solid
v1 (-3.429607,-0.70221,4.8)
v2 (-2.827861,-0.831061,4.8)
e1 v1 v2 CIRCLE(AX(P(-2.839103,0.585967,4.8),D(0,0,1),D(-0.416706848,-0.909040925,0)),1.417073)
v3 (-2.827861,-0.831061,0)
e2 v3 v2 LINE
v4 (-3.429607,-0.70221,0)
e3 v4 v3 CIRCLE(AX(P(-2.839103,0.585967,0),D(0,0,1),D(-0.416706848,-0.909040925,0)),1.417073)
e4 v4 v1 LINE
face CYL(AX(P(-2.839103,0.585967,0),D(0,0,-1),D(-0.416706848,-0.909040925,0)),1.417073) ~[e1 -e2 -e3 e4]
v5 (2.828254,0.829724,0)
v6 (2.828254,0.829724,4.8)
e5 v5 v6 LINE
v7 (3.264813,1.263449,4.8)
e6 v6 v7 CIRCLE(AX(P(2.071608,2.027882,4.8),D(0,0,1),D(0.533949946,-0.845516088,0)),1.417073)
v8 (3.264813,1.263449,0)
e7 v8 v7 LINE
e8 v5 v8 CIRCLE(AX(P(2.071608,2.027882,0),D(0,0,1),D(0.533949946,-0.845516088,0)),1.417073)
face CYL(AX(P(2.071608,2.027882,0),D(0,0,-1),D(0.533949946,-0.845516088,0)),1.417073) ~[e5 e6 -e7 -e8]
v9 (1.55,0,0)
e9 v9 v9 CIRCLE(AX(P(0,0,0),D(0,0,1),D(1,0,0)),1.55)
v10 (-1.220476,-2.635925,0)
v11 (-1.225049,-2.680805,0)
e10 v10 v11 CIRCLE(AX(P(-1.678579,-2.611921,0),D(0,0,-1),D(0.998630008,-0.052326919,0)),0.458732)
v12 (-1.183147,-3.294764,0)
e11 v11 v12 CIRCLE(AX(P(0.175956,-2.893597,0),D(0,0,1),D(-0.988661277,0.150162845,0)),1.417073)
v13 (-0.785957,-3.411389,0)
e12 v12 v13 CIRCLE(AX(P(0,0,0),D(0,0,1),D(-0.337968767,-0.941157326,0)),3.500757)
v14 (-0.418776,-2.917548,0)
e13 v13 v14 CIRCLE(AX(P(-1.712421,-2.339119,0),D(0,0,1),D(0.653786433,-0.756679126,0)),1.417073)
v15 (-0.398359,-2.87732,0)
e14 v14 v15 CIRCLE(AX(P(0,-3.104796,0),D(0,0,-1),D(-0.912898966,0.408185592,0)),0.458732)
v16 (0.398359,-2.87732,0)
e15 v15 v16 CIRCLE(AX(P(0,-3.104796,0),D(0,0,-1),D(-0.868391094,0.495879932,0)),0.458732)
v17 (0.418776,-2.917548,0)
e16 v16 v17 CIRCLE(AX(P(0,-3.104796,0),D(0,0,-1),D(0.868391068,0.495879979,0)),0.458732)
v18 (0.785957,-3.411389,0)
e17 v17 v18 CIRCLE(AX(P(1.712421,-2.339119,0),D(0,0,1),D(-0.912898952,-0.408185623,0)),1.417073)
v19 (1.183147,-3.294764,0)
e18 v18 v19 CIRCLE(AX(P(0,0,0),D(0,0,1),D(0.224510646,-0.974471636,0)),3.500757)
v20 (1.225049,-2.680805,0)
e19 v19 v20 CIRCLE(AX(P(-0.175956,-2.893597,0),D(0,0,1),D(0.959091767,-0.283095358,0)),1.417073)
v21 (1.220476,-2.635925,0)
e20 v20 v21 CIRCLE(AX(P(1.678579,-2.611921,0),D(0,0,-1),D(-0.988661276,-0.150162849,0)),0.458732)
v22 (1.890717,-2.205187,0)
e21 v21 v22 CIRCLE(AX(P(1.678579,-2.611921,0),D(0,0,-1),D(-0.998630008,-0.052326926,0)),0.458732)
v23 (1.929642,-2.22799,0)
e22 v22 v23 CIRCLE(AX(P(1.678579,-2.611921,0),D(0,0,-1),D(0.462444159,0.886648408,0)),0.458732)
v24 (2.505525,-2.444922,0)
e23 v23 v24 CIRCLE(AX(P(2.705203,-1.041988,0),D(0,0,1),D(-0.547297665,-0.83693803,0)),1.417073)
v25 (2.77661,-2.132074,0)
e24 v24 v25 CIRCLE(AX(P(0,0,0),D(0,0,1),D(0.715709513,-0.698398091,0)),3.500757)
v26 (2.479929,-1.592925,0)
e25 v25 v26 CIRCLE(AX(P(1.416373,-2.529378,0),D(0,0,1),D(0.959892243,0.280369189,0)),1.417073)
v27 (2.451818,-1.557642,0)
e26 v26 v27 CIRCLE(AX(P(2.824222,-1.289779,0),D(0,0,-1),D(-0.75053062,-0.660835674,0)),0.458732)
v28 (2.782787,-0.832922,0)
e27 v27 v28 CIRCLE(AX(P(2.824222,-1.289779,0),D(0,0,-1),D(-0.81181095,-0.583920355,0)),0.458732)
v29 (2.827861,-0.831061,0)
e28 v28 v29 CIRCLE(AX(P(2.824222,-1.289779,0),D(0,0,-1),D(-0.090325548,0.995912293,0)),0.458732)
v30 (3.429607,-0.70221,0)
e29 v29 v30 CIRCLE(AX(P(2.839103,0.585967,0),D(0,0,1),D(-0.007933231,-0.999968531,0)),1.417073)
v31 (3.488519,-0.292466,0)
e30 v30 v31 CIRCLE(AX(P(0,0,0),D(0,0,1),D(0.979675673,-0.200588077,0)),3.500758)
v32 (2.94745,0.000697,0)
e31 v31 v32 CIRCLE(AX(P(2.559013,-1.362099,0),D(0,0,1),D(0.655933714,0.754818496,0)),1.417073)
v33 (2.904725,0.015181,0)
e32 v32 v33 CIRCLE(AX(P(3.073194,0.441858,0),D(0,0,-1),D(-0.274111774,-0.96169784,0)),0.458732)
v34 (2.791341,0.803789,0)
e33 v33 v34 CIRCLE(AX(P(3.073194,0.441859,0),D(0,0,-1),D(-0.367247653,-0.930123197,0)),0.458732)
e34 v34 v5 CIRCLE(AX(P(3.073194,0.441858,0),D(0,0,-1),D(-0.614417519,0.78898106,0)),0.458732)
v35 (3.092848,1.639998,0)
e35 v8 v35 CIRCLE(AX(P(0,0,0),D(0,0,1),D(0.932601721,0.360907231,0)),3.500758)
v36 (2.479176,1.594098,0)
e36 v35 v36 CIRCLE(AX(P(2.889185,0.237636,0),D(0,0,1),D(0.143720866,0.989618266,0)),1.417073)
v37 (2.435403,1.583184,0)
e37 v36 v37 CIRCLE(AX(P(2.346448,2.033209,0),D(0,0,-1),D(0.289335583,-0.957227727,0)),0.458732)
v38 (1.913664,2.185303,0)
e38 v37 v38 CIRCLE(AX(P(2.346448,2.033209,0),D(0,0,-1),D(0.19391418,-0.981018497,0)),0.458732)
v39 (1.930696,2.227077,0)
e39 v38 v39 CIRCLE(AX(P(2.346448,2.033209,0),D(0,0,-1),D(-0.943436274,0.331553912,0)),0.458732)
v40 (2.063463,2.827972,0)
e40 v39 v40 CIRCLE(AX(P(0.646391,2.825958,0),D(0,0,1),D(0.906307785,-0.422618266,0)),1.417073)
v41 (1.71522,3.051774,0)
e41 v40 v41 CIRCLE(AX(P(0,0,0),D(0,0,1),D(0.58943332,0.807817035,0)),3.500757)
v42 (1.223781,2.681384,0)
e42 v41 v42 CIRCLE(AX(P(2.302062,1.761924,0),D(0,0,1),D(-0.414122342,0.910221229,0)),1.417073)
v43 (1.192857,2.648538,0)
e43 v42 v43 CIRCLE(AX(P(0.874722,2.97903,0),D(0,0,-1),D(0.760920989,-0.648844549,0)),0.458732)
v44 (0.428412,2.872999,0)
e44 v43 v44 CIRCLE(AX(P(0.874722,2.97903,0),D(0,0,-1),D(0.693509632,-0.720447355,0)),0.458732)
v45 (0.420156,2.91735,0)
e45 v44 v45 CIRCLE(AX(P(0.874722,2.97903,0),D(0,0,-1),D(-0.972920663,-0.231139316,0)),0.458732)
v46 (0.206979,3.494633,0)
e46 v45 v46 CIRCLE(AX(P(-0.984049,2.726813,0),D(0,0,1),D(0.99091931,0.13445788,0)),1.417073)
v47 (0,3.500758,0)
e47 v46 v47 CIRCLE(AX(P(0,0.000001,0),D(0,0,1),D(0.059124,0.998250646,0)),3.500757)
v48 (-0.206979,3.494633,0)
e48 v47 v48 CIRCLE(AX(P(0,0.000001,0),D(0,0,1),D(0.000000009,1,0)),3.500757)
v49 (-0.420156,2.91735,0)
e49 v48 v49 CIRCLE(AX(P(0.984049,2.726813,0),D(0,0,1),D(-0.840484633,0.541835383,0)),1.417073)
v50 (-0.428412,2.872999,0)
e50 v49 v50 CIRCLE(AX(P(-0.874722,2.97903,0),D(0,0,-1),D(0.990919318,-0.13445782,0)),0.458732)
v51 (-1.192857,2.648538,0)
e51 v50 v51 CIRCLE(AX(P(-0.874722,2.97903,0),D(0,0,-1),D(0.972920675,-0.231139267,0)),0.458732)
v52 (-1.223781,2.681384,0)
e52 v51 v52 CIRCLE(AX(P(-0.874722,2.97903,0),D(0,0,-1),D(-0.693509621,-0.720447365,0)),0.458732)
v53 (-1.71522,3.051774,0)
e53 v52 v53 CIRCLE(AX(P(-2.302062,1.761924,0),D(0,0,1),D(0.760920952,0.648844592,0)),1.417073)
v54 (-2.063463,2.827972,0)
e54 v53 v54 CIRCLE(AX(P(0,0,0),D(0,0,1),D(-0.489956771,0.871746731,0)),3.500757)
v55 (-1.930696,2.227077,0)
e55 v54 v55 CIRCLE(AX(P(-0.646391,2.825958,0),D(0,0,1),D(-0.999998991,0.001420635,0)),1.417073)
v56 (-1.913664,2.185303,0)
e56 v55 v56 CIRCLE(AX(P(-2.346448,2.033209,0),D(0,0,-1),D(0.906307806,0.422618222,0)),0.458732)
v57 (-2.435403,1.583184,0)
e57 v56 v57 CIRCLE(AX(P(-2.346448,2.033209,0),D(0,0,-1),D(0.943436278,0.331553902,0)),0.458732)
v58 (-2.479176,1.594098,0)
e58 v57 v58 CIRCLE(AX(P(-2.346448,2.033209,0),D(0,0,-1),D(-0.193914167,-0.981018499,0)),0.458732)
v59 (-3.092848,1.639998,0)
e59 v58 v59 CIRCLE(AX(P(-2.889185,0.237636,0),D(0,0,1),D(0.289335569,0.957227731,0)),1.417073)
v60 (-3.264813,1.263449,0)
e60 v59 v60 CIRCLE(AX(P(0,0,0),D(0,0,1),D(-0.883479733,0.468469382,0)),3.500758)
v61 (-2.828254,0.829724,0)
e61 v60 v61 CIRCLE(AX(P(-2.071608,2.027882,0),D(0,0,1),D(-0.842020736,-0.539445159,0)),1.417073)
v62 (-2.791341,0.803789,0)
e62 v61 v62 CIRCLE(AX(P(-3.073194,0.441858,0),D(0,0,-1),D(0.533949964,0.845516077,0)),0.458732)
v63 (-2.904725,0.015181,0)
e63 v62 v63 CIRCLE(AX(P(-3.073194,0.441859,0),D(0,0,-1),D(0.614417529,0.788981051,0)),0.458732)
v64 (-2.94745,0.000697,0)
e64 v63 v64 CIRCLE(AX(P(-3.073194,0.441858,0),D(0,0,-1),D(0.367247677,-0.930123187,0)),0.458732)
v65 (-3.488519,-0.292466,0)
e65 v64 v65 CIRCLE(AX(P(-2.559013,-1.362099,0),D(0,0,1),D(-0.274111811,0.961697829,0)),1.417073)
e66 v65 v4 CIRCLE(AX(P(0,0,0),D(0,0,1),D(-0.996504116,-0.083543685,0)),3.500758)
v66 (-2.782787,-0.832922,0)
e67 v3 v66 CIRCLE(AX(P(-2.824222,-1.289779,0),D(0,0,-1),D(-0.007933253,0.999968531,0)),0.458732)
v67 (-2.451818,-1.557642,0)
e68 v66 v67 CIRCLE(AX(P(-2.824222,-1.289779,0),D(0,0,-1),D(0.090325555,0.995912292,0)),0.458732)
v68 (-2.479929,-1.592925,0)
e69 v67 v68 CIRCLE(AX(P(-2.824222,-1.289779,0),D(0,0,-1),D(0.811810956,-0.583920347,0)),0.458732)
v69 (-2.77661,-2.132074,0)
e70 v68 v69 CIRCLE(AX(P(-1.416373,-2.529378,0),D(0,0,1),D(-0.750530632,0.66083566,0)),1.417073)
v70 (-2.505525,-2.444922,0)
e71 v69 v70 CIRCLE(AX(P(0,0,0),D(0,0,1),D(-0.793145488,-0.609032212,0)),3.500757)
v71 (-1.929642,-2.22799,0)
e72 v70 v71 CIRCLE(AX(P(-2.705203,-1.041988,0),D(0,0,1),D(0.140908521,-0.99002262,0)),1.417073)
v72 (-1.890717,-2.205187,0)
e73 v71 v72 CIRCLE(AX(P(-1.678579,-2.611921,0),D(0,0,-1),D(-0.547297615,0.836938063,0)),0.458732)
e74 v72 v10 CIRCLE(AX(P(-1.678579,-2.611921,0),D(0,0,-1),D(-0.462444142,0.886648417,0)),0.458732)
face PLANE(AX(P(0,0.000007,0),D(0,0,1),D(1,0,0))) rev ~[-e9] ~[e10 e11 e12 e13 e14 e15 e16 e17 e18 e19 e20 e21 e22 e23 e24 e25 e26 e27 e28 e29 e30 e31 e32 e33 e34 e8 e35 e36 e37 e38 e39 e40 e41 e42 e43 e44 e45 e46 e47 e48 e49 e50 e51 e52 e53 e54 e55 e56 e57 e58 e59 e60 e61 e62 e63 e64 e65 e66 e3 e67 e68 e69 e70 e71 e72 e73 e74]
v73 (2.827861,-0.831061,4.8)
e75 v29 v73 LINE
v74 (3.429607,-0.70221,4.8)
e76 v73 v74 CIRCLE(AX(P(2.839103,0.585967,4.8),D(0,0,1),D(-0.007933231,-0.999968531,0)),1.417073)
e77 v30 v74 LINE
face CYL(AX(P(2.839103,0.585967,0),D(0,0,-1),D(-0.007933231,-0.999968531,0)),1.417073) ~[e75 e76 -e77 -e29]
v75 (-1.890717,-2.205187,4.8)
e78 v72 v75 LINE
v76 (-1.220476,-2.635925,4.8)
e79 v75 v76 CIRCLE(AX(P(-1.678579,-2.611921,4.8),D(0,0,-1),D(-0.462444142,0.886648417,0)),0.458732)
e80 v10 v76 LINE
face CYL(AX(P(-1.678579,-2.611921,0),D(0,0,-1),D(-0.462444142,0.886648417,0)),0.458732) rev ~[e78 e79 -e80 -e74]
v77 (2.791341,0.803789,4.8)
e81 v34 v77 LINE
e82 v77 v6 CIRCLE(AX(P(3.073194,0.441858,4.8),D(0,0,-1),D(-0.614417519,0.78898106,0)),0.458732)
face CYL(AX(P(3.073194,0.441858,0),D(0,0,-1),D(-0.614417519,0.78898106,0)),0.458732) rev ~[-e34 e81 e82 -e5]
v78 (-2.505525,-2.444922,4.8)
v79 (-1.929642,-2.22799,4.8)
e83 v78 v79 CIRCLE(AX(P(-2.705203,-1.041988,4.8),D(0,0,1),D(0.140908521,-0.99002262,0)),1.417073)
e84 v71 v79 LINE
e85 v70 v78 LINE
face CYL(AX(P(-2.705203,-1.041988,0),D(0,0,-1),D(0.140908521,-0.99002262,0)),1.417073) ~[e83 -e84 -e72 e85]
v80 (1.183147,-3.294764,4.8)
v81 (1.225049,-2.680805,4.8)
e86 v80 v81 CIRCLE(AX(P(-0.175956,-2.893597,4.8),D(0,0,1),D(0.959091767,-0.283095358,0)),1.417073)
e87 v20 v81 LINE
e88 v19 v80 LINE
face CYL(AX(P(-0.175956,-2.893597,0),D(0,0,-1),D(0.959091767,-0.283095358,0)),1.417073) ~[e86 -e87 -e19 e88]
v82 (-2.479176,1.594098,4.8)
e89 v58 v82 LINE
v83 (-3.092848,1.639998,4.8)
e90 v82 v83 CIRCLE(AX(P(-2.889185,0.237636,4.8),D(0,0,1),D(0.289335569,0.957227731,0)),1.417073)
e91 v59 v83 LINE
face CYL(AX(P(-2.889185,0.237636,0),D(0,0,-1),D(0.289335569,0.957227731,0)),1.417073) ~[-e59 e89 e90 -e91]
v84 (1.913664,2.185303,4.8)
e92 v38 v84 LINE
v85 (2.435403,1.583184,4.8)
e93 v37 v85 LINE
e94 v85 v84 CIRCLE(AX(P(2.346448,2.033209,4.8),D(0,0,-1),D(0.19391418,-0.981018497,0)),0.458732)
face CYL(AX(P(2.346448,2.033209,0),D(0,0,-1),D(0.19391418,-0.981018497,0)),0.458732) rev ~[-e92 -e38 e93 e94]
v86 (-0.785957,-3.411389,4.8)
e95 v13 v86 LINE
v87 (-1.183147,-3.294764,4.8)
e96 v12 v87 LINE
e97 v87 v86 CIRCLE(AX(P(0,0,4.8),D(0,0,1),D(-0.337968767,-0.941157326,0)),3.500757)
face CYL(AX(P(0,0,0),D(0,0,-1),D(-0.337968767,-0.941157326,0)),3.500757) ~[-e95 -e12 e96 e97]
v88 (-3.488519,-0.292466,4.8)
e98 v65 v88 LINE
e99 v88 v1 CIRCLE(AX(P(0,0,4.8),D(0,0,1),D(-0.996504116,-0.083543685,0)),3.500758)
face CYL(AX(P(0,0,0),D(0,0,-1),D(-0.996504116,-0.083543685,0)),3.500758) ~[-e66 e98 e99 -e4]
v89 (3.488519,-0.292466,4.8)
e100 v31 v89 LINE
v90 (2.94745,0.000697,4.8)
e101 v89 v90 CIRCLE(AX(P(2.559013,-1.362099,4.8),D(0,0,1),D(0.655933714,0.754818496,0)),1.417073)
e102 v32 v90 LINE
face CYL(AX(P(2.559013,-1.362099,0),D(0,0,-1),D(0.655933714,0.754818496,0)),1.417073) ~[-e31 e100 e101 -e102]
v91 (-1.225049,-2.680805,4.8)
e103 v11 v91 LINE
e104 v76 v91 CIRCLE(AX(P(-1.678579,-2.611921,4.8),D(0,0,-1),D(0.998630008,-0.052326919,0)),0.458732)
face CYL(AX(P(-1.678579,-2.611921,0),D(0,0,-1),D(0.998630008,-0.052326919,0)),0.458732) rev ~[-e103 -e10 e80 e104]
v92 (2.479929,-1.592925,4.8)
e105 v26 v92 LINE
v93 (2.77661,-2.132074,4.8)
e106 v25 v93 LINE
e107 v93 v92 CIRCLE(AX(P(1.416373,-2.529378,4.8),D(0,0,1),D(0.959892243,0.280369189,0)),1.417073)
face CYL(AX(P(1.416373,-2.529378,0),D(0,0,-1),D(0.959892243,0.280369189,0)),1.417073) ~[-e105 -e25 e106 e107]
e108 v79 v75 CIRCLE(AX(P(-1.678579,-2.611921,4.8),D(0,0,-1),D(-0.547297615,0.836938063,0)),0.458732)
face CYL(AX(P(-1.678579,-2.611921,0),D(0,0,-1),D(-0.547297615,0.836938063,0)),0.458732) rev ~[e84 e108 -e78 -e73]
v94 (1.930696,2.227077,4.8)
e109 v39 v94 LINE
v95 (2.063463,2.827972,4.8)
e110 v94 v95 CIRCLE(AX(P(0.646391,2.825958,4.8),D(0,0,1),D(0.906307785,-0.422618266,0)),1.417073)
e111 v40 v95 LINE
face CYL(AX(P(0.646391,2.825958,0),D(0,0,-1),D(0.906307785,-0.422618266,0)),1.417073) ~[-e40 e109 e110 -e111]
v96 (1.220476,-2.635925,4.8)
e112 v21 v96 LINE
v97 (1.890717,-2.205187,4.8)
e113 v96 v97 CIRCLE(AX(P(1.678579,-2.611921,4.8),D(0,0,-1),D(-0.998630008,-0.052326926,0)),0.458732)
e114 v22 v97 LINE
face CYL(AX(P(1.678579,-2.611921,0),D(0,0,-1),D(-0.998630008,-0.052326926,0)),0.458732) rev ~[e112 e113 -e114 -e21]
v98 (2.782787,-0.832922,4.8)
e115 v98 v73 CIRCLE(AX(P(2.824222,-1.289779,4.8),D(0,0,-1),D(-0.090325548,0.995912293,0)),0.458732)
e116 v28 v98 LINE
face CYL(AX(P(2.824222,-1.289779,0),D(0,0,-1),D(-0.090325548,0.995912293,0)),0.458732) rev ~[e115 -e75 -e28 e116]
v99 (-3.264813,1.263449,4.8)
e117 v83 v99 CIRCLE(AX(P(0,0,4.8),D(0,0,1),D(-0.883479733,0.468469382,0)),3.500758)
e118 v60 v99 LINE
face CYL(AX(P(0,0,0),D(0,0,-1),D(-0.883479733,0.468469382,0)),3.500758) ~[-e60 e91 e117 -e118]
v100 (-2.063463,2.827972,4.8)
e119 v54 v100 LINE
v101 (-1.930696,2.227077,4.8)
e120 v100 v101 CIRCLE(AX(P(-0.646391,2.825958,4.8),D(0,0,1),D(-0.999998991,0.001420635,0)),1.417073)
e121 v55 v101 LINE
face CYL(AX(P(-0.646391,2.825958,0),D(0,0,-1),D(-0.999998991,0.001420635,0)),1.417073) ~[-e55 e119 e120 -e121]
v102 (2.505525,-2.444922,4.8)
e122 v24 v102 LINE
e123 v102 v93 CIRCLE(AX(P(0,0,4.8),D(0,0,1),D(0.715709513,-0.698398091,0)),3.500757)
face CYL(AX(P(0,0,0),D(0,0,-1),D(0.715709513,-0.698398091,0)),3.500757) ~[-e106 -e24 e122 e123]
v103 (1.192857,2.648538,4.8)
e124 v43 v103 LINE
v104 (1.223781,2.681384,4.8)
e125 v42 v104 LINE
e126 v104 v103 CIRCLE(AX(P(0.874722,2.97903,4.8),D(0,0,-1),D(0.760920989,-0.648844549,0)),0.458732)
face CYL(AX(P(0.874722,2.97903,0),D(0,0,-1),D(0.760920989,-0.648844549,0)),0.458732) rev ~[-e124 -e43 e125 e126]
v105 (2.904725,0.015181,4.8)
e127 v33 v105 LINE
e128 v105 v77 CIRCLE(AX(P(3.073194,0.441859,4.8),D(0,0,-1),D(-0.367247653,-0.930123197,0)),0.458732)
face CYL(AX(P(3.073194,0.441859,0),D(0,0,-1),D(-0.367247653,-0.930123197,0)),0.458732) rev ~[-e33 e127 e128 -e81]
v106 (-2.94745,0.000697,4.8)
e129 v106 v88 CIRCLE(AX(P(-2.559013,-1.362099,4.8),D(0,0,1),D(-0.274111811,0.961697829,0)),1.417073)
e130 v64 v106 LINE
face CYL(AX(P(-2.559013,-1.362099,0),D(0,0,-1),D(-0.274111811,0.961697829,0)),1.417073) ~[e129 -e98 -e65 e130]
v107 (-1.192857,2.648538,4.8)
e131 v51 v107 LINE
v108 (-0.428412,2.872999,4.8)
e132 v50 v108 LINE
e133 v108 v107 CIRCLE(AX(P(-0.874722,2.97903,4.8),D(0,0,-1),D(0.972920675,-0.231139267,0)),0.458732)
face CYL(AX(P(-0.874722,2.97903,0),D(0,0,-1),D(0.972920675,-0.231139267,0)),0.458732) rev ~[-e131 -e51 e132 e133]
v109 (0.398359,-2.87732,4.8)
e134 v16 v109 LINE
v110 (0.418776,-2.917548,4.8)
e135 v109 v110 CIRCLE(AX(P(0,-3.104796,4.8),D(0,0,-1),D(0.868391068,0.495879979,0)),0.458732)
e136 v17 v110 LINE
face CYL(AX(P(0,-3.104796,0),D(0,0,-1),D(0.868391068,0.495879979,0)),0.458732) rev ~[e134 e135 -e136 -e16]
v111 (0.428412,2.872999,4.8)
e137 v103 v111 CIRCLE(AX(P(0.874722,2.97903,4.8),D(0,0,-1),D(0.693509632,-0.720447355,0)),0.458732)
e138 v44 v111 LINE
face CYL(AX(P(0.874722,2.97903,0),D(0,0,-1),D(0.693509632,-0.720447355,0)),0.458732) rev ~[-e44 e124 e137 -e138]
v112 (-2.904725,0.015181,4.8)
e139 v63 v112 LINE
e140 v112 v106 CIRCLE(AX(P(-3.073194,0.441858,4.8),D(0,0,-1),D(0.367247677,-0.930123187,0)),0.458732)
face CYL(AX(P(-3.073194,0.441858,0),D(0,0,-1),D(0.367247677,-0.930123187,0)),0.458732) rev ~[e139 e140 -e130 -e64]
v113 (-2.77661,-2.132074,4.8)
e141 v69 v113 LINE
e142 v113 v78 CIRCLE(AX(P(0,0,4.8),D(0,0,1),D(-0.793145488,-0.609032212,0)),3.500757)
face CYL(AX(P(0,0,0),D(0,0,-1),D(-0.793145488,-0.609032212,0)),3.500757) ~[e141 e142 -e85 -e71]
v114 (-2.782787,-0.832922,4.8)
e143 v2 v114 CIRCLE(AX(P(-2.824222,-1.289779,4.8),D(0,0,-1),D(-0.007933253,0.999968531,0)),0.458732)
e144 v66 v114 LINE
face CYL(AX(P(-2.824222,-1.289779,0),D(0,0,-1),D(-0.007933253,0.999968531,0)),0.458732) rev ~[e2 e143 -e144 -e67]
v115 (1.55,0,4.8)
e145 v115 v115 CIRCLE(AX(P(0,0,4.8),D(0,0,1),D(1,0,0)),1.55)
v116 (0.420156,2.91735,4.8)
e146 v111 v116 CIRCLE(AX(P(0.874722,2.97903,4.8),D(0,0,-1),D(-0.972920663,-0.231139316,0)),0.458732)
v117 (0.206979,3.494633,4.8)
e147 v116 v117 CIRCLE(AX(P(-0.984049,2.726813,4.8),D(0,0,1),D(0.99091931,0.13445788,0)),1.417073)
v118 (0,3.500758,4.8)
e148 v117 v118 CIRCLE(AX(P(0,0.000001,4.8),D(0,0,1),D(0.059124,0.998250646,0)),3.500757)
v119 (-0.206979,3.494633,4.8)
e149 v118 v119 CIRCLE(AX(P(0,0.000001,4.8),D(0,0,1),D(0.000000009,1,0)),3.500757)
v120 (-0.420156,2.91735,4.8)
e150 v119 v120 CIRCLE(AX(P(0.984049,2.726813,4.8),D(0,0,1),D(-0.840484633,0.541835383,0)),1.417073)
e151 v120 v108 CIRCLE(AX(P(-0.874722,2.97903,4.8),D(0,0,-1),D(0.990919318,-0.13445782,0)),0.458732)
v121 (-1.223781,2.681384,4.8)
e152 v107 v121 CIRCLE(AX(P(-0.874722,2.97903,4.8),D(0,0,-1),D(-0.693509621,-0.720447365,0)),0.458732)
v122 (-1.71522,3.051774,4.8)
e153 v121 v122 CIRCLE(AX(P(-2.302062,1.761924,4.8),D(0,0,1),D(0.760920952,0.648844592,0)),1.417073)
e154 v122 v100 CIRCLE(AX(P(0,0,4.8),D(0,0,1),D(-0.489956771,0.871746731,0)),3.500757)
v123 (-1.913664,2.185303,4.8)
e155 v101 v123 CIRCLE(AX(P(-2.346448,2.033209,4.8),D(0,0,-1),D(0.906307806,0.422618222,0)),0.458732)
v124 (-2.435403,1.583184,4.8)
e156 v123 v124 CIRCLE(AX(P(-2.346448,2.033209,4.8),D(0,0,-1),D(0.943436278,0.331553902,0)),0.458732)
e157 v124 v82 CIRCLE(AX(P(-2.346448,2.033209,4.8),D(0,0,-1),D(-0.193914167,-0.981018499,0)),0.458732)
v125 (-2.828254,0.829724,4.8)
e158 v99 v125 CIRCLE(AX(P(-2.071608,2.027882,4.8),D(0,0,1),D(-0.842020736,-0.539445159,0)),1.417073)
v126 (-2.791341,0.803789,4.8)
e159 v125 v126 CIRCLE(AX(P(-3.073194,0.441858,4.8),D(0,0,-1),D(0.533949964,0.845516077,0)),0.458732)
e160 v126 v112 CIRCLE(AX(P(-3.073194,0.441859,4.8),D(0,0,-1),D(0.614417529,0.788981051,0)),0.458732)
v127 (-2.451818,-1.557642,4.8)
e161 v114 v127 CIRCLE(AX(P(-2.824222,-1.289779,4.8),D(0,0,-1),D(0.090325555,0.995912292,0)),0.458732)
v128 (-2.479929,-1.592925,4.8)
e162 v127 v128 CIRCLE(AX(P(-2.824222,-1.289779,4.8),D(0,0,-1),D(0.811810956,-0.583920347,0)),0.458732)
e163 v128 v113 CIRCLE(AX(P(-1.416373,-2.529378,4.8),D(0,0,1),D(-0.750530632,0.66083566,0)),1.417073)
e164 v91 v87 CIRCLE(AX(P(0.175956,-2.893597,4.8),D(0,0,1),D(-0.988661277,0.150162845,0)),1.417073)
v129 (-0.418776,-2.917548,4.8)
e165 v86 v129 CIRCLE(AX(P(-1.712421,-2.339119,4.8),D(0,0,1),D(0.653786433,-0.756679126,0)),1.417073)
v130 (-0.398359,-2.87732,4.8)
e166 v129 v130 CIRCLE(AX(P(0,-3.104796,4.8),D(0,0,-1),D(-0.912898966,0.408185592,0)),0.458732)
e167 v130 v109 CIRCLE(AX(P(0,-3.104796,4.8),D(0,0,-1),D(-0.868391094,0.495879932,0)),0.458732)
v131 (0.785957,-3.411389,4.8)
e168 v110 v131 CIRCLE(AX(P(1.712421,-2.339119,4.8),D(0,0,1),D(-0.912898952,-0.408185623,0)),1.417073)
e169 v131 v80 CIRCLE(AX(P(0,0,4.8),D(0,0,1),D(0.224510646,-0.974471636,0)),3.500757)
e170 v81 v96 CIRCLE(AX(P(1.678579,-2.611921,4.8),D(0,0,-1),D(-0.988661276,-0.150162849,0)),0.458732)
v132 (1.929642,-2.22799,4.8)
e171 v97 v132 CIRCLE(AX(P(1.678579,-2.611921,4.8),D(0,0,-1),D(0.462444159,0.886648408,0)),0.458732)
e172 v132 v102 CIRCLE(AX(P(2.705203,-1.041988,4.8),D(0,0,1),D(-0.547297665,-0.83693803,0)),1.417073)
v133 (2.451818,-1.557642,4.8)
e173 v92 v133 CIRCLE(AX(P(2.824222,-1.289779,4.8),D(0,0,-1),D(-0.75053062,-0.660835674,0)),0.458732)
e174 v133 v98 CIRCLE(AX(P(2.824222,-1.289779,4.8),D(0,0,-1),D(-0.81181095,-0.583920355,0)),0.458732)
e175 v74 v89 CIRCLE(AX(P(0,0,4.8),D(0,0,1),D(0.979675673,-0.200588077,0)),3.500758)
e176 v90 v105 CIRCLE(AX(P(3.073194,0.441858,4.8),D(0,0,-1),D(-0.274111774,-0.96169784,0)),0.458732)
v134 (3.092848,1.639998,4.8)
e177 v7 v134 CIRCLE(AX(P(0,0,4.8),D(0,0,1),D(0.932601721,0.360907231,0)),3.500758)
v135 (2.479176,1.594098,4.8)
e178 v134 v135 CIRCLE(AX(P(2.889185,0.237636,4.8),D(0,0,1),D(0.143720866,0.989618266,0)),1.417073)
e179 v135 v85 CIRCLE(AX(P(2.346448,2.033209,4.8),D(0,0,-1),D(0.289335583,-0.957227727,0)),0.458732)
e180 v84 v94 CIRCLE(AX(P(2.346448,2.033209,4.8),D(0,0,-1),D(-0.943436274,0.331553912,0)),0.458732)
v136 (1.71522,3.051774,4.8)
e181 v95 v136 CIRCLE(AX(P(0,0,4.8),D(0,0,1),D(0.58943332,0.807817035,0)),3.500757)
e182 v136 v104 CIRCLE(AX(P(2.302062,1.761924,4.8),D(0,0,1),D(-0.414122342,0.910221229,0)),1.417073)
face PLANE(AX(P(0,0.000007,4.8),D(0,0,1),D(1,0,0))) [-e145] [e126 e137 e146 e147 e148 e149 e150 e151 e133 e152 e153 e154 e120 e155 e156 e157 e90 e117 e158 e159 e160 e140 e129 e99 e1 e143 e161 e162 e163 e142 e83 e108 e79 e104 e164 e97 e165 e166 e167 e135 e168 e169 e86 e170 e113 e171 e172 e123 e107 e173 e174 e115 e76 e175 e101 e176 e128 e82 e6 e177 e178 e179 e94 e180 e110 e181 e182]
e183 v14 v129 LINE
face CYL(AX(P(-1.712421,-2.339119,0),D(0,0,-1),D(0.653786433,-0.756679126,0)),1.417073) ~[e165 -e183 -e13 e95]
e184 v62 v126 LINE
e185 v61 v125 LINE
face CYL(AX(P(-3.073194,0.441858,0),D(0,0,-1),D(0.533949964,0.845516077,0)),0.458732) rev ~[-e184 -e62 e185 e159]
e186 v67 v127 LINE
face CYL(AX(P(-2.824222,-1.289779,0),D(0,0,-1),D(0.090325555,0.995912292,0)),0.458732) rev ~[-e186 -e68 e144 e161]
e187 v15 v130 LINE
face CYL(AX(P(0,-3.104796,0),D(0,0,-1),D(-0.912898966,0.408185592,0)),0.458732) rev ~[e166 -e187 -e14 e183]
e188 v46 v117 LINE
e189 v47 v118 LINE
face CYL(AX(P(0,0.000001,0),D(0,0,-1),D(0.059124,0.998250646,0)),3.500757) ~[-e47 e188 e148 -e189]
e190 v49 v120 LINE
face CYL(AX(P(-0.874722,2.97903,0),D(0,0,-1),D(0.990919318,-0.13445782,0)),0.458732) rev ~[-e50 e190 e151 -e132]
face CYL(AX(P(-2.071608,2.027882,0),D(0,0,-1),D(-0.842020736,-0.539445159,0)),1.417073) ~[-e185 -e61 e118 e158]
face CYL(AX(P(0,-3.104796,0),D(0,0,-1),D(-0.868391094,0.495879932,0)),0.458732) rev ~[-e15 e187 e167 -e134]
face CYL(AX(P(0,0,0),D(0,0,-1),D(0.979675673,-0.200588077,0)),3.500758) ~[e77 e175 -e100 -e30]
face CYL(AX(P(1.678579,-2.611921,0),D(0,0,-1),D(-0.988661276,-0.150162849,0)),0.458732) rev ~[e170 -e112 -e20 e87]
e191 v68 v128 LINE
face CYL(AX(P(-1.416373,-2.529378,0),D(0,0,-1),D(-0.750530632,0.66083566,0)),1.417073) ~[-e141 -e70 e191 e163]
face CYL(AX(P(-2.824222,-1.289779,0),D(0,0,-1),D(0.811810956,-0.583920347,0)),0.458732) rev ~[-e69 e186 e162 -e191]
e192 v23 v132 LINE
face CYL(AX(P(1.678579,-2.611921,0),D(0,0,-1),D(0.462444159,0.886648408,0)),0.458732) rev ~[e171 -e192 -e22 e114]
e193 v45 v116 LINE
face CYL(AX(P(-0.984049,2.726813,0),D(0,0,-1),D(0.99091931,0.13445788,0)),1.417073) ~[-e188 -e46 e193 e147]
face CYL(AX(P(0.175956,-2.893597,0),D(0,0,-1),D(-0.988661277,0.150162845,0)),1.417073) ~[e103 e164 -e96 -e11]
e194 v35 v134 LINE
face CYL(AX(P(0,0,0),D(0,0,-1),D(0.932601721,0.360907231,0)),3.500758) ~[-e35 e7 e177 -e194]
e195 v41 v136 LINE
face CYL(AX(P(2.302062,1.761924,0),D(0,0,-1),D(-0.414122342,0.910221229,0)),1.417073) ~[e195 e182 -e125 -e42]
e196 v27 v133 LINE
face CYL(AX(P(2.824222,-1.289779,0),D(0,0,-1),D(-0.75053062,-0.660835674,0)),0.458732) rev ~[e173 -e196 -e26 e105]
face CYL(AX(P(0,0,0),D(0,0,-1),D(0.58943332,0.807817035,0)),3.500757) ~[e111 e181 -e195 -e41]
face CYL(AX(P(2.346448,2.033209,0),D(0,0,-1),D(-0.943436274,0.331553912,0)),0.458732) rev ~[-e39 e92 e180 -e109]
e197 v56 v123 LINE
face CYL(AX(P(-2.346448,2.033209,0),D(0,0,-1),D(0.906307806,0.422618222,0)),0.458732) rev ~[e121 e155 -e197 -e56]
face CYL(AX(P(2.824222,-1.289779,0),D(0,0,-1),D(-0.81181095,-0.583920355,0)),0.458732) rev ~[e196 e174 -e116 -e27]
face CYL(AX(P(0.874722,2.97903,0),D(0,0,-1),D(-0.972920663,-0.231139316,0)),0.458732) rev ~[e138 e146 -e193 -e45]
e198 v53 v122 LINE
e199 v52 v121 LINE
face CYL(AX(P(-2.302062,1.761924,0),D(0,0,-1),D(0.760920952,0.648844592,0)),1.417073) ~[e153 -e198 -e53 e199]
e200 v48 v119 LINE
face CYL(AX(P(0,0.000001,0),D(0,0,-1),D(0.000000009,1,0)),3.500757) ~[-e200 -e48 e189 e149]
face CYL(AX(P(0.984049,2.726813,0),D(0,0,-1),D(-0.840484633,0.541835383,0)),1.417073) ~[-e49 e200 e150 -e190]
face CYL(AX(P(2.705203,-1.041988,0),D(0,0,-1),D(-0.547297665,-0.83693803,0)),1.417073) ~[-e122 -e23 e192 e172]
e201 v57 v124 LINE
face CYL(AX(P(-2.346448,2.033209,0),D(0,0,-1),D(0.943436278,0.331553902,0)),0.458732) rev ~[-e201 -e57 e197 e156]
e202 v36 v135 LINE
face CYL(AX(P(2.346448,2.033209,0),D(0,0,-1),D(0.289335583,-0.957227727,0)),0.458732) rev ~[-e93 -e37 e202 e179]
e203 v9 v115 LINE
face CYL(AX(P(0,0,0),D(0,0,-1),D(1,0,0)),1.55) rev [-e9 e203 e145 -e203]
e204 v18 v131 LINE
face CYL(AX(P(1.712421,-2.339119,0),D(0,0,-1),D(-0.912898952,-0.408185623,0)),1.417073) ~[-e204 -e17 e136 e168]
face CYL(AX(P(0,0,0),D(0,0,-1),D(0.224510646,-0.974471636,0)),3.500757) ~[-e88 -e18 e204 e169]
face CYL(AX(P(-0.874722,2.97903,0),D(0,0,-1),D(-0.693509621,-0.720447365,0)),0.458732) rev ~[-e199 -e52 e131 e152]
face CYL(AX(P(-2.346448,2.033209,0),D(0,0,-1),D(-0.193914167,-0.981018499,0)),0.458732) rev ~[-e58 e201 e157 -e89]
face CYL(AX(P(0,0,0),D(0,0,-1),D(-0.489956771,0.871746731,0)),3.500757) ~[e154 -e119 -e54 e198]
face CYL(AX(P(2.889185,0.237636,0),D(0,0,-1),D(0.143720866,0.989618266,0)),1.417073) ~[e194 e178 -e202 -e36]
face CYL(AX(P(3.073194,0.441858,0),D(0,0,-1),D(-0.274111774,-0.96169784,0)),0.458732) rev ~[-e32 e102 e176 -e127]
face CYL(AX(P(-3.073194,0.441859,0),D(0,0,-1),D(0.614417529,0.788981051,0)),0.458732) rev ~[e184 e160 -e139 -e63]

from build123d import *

# Parameters (mm, degrees)
SKETCH1_R           = 1.55
BOSS_EXTRUDE1_DEPTH = 4.8


with BuildPart() as part:
    # Sketch1 → Boss-Extrude1 (new body)
    with BuildSketch(Plane.XY):
        with BuildLine():
            ThreePointArc((-1.220475879, -2.635924597), (-1.222210326, -2.658421079), (-1.225048855, -2.680805064))
            ThreePointArc((-1.225048855, -2.680805064), (-1.237827813, -2.990086384), (-1.183146697, -3.294763611))
            ThreePointArc((-1.183146697, -3.294763611), (-0.986277373, -3.358952263), (-0.785957353, -3.411388925))
            ThreePointArc((-0.785957353, -3.411388925), (-0.575235727, -3.184640974), (-0.418775964, -2.917548145))
            ThreePointArc((-0.418775964, -2.917548145), (-0.409062191, -2.897182914), (-0.398358784, -2.877319956))
            ThreePointArc((-0.398358784, -2.877319956), (0, -2.646063949), (0.398358784, -2.877319957))
            ThreePointArc((0.398358784, -2.877319957), (0.409062191, -2.897182914), (0.418775964, -2.917548145))
            ThreePointArc((0.418775964, -2.917548145), (0.575235727, -3.184640974), (0.785957353, -3.411388925))
            ThreePointArc((0.785957353, -3.411388925), (0.986277373, -3.358952263), (1.183146697, -3.294763611))
            ThreePointArc((1.183146697, -3.294763611), (1.237827812, -2.990086385), (1.225048855, -2.680805065))
            ThreePointArc((1.225048855, -2.680805065), (1.222210326, -2.65842108), (1.220475879, -2.635924598))
            ThreePointArc((1.220475879, -2.635924598), (1.430570178, -2.226010644), (1.890717351, -2.205186558))
            ThreePointArc((1.890717351, -2.205186558), (1.910460355, -2.216109643), (1.929642376, -2.227990303))
            ThreePointArc((1.929642376, -2.227990303), (2.205665989, -2.368094556), (2.505525497, -2.444922359))
            ThreePointArc((2.505525497, -2.444922359), (2.645696022, -2.292508653), (2.776610031, -2.13207413))
            ThreePointArc((2.776610031, -2.13207413), (2.657889767, -1.846200494), (2.479929318, -1.592925316))
            ThreePointArc((2.479929318, -1.592925316), (2.4654397, -1.575629335), (2.451818074, -1.557641803))
            ThreePointArc((2.451818074, -1.557641803), (2.40694443, -1.09921469), (2.782786513, -0.832922011))
            ThreePointArc((2.782786513, -0.832922011), (2.80530085, -0.831437221), (2.827860963, -0.831061285))
            ThreePointArc((2.827860963, -0.831061285), (3.135812881, -0.79969485), (3.429606999, -0.702210219))
            ThreePointArc((3.429606999, -0.702210219), (3.465124877, -0.498209743), (3.488519299, -0.292466177))
            ThreePointArc((3.488519299, -0.292466177), (3.234090501, -0.116158991), (2.947449745, 0.000696964))
            ThreePointArc((2.947449745, 0.000696964), (2.925909389, 0.00741359), (2.904725354, 0.015181258))
            ThreePointArc((2.904725354, 0.015181258), (2.619130834, 0.376574163), (2.791340622, 0.80378939))
            ThreePointArc((2.791340622, 0.80378939), (2.80947815, 0.817210645), (2.828253678, 0.829723821))
            ThreePointArc((2.828253678, 0.829723821), (3.070361342, 1.022602322), (3.264812511, 1.263448704))
            ThreePointArc((3.264812511, 1.263448704), (3.184401067, 1.454267239), (3.092848337, 1.63999772))
            ThreePointArc((3.092848337, 1.63999772), (2.783490351, 1.65076217), (2.479175704, 1.594097963))
            ThreePointArc((2.479175704, 1.594097963), (2.457423521, 1.588102753), (2.435402858, 1.583184377))
            ThreePointArc((2.435402858, 1.583184377), (1.999761704, 1.73280338), (1.913663807, 2.18530334))
            ThreePointArc((1.913663807, 2.18530334), (1.921665988, 2.206399906), (1.930695833, 2.227077476))
            ThreePointArc((1.930695833, 2.227077476), (2.030091771, 2.520230481), (2.063463119, 2.82797159))
            ThreePointArc((2.063463119, 2.82797159), (1.892652419, 2.945024649), (1.715219882, 3.051773929))
            ThreePointArc((1.715219882, 3.051773929), (1.449151682, 2.893578006), (1.223780893, 2.681384122))
            ThreePointArc((1.223780893, 2.681384122), (1.208723048, 2.664580512), (1.192857163, 2.648537642))
            ThreePointArc((1.192857163, 2.648537642), (0.745482362, 2.538879767), (0.428412254, 2.87299892))
            ThreePointArc((0.428412254, 2.87299892), (0.423738452, 2.895072786), (0.420155704, 2.917349768))
            ThreePointArc((0.420155704, 2.917349768), (0.345282406, 3.217703271), (0.206978766, 3.494633479))
            ThreePointArc((0.206978766, 3.494633479), (0.103534673, 3.499226191), (0, 3.500757541))
            ThreePointArc((0, 3.500757541), (-0.103534673, 3.499226191), (-0.206978766, 3.494633479))
            ThreePointArc((-0.206978766, 3.494633479), (-0.345282406, 3.217703271), (-0.420155704, 2.917349768))
            ThreePointArc((-0.420155704, 2.917349768), (-0.423738452, 2.895072786), (-0.428412254, 2.87299892))
            ThreePointArc((-0.428412254, 2.87299892), (-0.745482362, 2.538879767), (-1.192857163, 2.648537642))
            ThreePointArc((-1.192857163, 2.648537642), (-1.208723048, 2.664580512), (-1.223780893, 2.681384122))
            ThreePointArc((-1.223780893, 2.681384122), (-1.449151682, 2.893578006), (-1.715219882, 3.051773929))
            ThreePointArc((-1.715219882, 3.051773929), (-1.892652419, 2.945024649), (-2.063463119, 2.82797159))
            ThreePointArc((-2.063463119, 2.82797159), (-2.030091771, 2.520230481), (-1.930695833, 2.227077476))
            ThreePointArc((-1.930695833, 2.227077476), (-1.921665988, 2.206399906), (-1.913663807, 2.18530334))
            ThreePointArc((-1.913663807, 2.18530334), (-1.999761704, 1.73280338), (-2.435402858, 1.583184377))
            ThreePointArc((-2.435402858, 1.583184377), (-2.457423521, 1.588102753), (-2.479175704, 1.594097963))
            ThreePointArc((-2.479175704, 1.594097963), (-2.783490351, 1.65076217), (-3.092848337, 1.63999772))
            ThreePointArc((-3.092848337, 1.63999772), (-3.184401067, 1.454267239), (-3.264812511, 1.263448704))
            ThreePointArc((-3.264812511, 1.263448704), (-3.070361342, 1.022602322), (-2.828253678, 0.829723821))
            ThreePointArc((-2.828253678, 0.829723821), (-2.80947815, 0.817210645), (-2.791340622, 0.80378939))
            ThreePointArc((-2.791340622, 0.80378939), (-2.619130834, 0.376574163), (-2.904725354, 0.015181258))
            ThreePointArc((-2.904725354, 0.015181258), (-2.925909389, 0.00741359), (-2.947449745, 0.000696964))
            ThreePointArc((-2.947449745, 0.000696964), (-3.234090501, -0.116158991), (-3.488519299, -0.292466177))
            ThreePointArc((-3.488519299, -0.292466177), (-3.465124877, -0.498209743), (-3.429606999, -0.702210219))
            ThreePointArc((-3.429606999, -0.702210219), (-3.135812881, -0.79969485), (-2.827860963, -0.831061285))
            ThreePointArc((-2.827860963, -0.831061285), (-2.80530085, -0.831437221), (-2.782786513, -0.832922011))
            ThreePointArc((-2.782786513, -0.832922011), (-2.40694443, -1.09921469), (-2.451818074, -1.557641803))
            ThreePointArc((-2.451818074, -1.557641803), (-2.4654397, -1.575629335), (-2.479929318, -1.592925316))
            ThreePointArc((-2.479929318, -1.592925316), (-2.657889767, -1.846200494), (-2.776610031, -2.13207413))
            ThreePointArc((-2.776610031, -2.13207413), (-2.645696022, -2.292508653), (-2.505525497, -2.444922359))
            ThreePointArc((-2.505525497, -2.444922359), (-2.205665987, -2.368094557), (-1.929642373, -2.227990304))
            ThreePointArc((-1.929642373, -2.227990304), (-1.910460352, -2.216109645), (-1.890717348, -2.20518656))
            ThreePointArc((-1.890717348, -2.20518656), (-1.430570177, -2.226010646), (-1.220475879, -2.635924597))
        make_face()
        Circle(SKETCH1_R, mode=Mode.SUBTRACT)
    extrude(amount=BOSS_EXTRUDE1_DEPTH)


solid = part.part
